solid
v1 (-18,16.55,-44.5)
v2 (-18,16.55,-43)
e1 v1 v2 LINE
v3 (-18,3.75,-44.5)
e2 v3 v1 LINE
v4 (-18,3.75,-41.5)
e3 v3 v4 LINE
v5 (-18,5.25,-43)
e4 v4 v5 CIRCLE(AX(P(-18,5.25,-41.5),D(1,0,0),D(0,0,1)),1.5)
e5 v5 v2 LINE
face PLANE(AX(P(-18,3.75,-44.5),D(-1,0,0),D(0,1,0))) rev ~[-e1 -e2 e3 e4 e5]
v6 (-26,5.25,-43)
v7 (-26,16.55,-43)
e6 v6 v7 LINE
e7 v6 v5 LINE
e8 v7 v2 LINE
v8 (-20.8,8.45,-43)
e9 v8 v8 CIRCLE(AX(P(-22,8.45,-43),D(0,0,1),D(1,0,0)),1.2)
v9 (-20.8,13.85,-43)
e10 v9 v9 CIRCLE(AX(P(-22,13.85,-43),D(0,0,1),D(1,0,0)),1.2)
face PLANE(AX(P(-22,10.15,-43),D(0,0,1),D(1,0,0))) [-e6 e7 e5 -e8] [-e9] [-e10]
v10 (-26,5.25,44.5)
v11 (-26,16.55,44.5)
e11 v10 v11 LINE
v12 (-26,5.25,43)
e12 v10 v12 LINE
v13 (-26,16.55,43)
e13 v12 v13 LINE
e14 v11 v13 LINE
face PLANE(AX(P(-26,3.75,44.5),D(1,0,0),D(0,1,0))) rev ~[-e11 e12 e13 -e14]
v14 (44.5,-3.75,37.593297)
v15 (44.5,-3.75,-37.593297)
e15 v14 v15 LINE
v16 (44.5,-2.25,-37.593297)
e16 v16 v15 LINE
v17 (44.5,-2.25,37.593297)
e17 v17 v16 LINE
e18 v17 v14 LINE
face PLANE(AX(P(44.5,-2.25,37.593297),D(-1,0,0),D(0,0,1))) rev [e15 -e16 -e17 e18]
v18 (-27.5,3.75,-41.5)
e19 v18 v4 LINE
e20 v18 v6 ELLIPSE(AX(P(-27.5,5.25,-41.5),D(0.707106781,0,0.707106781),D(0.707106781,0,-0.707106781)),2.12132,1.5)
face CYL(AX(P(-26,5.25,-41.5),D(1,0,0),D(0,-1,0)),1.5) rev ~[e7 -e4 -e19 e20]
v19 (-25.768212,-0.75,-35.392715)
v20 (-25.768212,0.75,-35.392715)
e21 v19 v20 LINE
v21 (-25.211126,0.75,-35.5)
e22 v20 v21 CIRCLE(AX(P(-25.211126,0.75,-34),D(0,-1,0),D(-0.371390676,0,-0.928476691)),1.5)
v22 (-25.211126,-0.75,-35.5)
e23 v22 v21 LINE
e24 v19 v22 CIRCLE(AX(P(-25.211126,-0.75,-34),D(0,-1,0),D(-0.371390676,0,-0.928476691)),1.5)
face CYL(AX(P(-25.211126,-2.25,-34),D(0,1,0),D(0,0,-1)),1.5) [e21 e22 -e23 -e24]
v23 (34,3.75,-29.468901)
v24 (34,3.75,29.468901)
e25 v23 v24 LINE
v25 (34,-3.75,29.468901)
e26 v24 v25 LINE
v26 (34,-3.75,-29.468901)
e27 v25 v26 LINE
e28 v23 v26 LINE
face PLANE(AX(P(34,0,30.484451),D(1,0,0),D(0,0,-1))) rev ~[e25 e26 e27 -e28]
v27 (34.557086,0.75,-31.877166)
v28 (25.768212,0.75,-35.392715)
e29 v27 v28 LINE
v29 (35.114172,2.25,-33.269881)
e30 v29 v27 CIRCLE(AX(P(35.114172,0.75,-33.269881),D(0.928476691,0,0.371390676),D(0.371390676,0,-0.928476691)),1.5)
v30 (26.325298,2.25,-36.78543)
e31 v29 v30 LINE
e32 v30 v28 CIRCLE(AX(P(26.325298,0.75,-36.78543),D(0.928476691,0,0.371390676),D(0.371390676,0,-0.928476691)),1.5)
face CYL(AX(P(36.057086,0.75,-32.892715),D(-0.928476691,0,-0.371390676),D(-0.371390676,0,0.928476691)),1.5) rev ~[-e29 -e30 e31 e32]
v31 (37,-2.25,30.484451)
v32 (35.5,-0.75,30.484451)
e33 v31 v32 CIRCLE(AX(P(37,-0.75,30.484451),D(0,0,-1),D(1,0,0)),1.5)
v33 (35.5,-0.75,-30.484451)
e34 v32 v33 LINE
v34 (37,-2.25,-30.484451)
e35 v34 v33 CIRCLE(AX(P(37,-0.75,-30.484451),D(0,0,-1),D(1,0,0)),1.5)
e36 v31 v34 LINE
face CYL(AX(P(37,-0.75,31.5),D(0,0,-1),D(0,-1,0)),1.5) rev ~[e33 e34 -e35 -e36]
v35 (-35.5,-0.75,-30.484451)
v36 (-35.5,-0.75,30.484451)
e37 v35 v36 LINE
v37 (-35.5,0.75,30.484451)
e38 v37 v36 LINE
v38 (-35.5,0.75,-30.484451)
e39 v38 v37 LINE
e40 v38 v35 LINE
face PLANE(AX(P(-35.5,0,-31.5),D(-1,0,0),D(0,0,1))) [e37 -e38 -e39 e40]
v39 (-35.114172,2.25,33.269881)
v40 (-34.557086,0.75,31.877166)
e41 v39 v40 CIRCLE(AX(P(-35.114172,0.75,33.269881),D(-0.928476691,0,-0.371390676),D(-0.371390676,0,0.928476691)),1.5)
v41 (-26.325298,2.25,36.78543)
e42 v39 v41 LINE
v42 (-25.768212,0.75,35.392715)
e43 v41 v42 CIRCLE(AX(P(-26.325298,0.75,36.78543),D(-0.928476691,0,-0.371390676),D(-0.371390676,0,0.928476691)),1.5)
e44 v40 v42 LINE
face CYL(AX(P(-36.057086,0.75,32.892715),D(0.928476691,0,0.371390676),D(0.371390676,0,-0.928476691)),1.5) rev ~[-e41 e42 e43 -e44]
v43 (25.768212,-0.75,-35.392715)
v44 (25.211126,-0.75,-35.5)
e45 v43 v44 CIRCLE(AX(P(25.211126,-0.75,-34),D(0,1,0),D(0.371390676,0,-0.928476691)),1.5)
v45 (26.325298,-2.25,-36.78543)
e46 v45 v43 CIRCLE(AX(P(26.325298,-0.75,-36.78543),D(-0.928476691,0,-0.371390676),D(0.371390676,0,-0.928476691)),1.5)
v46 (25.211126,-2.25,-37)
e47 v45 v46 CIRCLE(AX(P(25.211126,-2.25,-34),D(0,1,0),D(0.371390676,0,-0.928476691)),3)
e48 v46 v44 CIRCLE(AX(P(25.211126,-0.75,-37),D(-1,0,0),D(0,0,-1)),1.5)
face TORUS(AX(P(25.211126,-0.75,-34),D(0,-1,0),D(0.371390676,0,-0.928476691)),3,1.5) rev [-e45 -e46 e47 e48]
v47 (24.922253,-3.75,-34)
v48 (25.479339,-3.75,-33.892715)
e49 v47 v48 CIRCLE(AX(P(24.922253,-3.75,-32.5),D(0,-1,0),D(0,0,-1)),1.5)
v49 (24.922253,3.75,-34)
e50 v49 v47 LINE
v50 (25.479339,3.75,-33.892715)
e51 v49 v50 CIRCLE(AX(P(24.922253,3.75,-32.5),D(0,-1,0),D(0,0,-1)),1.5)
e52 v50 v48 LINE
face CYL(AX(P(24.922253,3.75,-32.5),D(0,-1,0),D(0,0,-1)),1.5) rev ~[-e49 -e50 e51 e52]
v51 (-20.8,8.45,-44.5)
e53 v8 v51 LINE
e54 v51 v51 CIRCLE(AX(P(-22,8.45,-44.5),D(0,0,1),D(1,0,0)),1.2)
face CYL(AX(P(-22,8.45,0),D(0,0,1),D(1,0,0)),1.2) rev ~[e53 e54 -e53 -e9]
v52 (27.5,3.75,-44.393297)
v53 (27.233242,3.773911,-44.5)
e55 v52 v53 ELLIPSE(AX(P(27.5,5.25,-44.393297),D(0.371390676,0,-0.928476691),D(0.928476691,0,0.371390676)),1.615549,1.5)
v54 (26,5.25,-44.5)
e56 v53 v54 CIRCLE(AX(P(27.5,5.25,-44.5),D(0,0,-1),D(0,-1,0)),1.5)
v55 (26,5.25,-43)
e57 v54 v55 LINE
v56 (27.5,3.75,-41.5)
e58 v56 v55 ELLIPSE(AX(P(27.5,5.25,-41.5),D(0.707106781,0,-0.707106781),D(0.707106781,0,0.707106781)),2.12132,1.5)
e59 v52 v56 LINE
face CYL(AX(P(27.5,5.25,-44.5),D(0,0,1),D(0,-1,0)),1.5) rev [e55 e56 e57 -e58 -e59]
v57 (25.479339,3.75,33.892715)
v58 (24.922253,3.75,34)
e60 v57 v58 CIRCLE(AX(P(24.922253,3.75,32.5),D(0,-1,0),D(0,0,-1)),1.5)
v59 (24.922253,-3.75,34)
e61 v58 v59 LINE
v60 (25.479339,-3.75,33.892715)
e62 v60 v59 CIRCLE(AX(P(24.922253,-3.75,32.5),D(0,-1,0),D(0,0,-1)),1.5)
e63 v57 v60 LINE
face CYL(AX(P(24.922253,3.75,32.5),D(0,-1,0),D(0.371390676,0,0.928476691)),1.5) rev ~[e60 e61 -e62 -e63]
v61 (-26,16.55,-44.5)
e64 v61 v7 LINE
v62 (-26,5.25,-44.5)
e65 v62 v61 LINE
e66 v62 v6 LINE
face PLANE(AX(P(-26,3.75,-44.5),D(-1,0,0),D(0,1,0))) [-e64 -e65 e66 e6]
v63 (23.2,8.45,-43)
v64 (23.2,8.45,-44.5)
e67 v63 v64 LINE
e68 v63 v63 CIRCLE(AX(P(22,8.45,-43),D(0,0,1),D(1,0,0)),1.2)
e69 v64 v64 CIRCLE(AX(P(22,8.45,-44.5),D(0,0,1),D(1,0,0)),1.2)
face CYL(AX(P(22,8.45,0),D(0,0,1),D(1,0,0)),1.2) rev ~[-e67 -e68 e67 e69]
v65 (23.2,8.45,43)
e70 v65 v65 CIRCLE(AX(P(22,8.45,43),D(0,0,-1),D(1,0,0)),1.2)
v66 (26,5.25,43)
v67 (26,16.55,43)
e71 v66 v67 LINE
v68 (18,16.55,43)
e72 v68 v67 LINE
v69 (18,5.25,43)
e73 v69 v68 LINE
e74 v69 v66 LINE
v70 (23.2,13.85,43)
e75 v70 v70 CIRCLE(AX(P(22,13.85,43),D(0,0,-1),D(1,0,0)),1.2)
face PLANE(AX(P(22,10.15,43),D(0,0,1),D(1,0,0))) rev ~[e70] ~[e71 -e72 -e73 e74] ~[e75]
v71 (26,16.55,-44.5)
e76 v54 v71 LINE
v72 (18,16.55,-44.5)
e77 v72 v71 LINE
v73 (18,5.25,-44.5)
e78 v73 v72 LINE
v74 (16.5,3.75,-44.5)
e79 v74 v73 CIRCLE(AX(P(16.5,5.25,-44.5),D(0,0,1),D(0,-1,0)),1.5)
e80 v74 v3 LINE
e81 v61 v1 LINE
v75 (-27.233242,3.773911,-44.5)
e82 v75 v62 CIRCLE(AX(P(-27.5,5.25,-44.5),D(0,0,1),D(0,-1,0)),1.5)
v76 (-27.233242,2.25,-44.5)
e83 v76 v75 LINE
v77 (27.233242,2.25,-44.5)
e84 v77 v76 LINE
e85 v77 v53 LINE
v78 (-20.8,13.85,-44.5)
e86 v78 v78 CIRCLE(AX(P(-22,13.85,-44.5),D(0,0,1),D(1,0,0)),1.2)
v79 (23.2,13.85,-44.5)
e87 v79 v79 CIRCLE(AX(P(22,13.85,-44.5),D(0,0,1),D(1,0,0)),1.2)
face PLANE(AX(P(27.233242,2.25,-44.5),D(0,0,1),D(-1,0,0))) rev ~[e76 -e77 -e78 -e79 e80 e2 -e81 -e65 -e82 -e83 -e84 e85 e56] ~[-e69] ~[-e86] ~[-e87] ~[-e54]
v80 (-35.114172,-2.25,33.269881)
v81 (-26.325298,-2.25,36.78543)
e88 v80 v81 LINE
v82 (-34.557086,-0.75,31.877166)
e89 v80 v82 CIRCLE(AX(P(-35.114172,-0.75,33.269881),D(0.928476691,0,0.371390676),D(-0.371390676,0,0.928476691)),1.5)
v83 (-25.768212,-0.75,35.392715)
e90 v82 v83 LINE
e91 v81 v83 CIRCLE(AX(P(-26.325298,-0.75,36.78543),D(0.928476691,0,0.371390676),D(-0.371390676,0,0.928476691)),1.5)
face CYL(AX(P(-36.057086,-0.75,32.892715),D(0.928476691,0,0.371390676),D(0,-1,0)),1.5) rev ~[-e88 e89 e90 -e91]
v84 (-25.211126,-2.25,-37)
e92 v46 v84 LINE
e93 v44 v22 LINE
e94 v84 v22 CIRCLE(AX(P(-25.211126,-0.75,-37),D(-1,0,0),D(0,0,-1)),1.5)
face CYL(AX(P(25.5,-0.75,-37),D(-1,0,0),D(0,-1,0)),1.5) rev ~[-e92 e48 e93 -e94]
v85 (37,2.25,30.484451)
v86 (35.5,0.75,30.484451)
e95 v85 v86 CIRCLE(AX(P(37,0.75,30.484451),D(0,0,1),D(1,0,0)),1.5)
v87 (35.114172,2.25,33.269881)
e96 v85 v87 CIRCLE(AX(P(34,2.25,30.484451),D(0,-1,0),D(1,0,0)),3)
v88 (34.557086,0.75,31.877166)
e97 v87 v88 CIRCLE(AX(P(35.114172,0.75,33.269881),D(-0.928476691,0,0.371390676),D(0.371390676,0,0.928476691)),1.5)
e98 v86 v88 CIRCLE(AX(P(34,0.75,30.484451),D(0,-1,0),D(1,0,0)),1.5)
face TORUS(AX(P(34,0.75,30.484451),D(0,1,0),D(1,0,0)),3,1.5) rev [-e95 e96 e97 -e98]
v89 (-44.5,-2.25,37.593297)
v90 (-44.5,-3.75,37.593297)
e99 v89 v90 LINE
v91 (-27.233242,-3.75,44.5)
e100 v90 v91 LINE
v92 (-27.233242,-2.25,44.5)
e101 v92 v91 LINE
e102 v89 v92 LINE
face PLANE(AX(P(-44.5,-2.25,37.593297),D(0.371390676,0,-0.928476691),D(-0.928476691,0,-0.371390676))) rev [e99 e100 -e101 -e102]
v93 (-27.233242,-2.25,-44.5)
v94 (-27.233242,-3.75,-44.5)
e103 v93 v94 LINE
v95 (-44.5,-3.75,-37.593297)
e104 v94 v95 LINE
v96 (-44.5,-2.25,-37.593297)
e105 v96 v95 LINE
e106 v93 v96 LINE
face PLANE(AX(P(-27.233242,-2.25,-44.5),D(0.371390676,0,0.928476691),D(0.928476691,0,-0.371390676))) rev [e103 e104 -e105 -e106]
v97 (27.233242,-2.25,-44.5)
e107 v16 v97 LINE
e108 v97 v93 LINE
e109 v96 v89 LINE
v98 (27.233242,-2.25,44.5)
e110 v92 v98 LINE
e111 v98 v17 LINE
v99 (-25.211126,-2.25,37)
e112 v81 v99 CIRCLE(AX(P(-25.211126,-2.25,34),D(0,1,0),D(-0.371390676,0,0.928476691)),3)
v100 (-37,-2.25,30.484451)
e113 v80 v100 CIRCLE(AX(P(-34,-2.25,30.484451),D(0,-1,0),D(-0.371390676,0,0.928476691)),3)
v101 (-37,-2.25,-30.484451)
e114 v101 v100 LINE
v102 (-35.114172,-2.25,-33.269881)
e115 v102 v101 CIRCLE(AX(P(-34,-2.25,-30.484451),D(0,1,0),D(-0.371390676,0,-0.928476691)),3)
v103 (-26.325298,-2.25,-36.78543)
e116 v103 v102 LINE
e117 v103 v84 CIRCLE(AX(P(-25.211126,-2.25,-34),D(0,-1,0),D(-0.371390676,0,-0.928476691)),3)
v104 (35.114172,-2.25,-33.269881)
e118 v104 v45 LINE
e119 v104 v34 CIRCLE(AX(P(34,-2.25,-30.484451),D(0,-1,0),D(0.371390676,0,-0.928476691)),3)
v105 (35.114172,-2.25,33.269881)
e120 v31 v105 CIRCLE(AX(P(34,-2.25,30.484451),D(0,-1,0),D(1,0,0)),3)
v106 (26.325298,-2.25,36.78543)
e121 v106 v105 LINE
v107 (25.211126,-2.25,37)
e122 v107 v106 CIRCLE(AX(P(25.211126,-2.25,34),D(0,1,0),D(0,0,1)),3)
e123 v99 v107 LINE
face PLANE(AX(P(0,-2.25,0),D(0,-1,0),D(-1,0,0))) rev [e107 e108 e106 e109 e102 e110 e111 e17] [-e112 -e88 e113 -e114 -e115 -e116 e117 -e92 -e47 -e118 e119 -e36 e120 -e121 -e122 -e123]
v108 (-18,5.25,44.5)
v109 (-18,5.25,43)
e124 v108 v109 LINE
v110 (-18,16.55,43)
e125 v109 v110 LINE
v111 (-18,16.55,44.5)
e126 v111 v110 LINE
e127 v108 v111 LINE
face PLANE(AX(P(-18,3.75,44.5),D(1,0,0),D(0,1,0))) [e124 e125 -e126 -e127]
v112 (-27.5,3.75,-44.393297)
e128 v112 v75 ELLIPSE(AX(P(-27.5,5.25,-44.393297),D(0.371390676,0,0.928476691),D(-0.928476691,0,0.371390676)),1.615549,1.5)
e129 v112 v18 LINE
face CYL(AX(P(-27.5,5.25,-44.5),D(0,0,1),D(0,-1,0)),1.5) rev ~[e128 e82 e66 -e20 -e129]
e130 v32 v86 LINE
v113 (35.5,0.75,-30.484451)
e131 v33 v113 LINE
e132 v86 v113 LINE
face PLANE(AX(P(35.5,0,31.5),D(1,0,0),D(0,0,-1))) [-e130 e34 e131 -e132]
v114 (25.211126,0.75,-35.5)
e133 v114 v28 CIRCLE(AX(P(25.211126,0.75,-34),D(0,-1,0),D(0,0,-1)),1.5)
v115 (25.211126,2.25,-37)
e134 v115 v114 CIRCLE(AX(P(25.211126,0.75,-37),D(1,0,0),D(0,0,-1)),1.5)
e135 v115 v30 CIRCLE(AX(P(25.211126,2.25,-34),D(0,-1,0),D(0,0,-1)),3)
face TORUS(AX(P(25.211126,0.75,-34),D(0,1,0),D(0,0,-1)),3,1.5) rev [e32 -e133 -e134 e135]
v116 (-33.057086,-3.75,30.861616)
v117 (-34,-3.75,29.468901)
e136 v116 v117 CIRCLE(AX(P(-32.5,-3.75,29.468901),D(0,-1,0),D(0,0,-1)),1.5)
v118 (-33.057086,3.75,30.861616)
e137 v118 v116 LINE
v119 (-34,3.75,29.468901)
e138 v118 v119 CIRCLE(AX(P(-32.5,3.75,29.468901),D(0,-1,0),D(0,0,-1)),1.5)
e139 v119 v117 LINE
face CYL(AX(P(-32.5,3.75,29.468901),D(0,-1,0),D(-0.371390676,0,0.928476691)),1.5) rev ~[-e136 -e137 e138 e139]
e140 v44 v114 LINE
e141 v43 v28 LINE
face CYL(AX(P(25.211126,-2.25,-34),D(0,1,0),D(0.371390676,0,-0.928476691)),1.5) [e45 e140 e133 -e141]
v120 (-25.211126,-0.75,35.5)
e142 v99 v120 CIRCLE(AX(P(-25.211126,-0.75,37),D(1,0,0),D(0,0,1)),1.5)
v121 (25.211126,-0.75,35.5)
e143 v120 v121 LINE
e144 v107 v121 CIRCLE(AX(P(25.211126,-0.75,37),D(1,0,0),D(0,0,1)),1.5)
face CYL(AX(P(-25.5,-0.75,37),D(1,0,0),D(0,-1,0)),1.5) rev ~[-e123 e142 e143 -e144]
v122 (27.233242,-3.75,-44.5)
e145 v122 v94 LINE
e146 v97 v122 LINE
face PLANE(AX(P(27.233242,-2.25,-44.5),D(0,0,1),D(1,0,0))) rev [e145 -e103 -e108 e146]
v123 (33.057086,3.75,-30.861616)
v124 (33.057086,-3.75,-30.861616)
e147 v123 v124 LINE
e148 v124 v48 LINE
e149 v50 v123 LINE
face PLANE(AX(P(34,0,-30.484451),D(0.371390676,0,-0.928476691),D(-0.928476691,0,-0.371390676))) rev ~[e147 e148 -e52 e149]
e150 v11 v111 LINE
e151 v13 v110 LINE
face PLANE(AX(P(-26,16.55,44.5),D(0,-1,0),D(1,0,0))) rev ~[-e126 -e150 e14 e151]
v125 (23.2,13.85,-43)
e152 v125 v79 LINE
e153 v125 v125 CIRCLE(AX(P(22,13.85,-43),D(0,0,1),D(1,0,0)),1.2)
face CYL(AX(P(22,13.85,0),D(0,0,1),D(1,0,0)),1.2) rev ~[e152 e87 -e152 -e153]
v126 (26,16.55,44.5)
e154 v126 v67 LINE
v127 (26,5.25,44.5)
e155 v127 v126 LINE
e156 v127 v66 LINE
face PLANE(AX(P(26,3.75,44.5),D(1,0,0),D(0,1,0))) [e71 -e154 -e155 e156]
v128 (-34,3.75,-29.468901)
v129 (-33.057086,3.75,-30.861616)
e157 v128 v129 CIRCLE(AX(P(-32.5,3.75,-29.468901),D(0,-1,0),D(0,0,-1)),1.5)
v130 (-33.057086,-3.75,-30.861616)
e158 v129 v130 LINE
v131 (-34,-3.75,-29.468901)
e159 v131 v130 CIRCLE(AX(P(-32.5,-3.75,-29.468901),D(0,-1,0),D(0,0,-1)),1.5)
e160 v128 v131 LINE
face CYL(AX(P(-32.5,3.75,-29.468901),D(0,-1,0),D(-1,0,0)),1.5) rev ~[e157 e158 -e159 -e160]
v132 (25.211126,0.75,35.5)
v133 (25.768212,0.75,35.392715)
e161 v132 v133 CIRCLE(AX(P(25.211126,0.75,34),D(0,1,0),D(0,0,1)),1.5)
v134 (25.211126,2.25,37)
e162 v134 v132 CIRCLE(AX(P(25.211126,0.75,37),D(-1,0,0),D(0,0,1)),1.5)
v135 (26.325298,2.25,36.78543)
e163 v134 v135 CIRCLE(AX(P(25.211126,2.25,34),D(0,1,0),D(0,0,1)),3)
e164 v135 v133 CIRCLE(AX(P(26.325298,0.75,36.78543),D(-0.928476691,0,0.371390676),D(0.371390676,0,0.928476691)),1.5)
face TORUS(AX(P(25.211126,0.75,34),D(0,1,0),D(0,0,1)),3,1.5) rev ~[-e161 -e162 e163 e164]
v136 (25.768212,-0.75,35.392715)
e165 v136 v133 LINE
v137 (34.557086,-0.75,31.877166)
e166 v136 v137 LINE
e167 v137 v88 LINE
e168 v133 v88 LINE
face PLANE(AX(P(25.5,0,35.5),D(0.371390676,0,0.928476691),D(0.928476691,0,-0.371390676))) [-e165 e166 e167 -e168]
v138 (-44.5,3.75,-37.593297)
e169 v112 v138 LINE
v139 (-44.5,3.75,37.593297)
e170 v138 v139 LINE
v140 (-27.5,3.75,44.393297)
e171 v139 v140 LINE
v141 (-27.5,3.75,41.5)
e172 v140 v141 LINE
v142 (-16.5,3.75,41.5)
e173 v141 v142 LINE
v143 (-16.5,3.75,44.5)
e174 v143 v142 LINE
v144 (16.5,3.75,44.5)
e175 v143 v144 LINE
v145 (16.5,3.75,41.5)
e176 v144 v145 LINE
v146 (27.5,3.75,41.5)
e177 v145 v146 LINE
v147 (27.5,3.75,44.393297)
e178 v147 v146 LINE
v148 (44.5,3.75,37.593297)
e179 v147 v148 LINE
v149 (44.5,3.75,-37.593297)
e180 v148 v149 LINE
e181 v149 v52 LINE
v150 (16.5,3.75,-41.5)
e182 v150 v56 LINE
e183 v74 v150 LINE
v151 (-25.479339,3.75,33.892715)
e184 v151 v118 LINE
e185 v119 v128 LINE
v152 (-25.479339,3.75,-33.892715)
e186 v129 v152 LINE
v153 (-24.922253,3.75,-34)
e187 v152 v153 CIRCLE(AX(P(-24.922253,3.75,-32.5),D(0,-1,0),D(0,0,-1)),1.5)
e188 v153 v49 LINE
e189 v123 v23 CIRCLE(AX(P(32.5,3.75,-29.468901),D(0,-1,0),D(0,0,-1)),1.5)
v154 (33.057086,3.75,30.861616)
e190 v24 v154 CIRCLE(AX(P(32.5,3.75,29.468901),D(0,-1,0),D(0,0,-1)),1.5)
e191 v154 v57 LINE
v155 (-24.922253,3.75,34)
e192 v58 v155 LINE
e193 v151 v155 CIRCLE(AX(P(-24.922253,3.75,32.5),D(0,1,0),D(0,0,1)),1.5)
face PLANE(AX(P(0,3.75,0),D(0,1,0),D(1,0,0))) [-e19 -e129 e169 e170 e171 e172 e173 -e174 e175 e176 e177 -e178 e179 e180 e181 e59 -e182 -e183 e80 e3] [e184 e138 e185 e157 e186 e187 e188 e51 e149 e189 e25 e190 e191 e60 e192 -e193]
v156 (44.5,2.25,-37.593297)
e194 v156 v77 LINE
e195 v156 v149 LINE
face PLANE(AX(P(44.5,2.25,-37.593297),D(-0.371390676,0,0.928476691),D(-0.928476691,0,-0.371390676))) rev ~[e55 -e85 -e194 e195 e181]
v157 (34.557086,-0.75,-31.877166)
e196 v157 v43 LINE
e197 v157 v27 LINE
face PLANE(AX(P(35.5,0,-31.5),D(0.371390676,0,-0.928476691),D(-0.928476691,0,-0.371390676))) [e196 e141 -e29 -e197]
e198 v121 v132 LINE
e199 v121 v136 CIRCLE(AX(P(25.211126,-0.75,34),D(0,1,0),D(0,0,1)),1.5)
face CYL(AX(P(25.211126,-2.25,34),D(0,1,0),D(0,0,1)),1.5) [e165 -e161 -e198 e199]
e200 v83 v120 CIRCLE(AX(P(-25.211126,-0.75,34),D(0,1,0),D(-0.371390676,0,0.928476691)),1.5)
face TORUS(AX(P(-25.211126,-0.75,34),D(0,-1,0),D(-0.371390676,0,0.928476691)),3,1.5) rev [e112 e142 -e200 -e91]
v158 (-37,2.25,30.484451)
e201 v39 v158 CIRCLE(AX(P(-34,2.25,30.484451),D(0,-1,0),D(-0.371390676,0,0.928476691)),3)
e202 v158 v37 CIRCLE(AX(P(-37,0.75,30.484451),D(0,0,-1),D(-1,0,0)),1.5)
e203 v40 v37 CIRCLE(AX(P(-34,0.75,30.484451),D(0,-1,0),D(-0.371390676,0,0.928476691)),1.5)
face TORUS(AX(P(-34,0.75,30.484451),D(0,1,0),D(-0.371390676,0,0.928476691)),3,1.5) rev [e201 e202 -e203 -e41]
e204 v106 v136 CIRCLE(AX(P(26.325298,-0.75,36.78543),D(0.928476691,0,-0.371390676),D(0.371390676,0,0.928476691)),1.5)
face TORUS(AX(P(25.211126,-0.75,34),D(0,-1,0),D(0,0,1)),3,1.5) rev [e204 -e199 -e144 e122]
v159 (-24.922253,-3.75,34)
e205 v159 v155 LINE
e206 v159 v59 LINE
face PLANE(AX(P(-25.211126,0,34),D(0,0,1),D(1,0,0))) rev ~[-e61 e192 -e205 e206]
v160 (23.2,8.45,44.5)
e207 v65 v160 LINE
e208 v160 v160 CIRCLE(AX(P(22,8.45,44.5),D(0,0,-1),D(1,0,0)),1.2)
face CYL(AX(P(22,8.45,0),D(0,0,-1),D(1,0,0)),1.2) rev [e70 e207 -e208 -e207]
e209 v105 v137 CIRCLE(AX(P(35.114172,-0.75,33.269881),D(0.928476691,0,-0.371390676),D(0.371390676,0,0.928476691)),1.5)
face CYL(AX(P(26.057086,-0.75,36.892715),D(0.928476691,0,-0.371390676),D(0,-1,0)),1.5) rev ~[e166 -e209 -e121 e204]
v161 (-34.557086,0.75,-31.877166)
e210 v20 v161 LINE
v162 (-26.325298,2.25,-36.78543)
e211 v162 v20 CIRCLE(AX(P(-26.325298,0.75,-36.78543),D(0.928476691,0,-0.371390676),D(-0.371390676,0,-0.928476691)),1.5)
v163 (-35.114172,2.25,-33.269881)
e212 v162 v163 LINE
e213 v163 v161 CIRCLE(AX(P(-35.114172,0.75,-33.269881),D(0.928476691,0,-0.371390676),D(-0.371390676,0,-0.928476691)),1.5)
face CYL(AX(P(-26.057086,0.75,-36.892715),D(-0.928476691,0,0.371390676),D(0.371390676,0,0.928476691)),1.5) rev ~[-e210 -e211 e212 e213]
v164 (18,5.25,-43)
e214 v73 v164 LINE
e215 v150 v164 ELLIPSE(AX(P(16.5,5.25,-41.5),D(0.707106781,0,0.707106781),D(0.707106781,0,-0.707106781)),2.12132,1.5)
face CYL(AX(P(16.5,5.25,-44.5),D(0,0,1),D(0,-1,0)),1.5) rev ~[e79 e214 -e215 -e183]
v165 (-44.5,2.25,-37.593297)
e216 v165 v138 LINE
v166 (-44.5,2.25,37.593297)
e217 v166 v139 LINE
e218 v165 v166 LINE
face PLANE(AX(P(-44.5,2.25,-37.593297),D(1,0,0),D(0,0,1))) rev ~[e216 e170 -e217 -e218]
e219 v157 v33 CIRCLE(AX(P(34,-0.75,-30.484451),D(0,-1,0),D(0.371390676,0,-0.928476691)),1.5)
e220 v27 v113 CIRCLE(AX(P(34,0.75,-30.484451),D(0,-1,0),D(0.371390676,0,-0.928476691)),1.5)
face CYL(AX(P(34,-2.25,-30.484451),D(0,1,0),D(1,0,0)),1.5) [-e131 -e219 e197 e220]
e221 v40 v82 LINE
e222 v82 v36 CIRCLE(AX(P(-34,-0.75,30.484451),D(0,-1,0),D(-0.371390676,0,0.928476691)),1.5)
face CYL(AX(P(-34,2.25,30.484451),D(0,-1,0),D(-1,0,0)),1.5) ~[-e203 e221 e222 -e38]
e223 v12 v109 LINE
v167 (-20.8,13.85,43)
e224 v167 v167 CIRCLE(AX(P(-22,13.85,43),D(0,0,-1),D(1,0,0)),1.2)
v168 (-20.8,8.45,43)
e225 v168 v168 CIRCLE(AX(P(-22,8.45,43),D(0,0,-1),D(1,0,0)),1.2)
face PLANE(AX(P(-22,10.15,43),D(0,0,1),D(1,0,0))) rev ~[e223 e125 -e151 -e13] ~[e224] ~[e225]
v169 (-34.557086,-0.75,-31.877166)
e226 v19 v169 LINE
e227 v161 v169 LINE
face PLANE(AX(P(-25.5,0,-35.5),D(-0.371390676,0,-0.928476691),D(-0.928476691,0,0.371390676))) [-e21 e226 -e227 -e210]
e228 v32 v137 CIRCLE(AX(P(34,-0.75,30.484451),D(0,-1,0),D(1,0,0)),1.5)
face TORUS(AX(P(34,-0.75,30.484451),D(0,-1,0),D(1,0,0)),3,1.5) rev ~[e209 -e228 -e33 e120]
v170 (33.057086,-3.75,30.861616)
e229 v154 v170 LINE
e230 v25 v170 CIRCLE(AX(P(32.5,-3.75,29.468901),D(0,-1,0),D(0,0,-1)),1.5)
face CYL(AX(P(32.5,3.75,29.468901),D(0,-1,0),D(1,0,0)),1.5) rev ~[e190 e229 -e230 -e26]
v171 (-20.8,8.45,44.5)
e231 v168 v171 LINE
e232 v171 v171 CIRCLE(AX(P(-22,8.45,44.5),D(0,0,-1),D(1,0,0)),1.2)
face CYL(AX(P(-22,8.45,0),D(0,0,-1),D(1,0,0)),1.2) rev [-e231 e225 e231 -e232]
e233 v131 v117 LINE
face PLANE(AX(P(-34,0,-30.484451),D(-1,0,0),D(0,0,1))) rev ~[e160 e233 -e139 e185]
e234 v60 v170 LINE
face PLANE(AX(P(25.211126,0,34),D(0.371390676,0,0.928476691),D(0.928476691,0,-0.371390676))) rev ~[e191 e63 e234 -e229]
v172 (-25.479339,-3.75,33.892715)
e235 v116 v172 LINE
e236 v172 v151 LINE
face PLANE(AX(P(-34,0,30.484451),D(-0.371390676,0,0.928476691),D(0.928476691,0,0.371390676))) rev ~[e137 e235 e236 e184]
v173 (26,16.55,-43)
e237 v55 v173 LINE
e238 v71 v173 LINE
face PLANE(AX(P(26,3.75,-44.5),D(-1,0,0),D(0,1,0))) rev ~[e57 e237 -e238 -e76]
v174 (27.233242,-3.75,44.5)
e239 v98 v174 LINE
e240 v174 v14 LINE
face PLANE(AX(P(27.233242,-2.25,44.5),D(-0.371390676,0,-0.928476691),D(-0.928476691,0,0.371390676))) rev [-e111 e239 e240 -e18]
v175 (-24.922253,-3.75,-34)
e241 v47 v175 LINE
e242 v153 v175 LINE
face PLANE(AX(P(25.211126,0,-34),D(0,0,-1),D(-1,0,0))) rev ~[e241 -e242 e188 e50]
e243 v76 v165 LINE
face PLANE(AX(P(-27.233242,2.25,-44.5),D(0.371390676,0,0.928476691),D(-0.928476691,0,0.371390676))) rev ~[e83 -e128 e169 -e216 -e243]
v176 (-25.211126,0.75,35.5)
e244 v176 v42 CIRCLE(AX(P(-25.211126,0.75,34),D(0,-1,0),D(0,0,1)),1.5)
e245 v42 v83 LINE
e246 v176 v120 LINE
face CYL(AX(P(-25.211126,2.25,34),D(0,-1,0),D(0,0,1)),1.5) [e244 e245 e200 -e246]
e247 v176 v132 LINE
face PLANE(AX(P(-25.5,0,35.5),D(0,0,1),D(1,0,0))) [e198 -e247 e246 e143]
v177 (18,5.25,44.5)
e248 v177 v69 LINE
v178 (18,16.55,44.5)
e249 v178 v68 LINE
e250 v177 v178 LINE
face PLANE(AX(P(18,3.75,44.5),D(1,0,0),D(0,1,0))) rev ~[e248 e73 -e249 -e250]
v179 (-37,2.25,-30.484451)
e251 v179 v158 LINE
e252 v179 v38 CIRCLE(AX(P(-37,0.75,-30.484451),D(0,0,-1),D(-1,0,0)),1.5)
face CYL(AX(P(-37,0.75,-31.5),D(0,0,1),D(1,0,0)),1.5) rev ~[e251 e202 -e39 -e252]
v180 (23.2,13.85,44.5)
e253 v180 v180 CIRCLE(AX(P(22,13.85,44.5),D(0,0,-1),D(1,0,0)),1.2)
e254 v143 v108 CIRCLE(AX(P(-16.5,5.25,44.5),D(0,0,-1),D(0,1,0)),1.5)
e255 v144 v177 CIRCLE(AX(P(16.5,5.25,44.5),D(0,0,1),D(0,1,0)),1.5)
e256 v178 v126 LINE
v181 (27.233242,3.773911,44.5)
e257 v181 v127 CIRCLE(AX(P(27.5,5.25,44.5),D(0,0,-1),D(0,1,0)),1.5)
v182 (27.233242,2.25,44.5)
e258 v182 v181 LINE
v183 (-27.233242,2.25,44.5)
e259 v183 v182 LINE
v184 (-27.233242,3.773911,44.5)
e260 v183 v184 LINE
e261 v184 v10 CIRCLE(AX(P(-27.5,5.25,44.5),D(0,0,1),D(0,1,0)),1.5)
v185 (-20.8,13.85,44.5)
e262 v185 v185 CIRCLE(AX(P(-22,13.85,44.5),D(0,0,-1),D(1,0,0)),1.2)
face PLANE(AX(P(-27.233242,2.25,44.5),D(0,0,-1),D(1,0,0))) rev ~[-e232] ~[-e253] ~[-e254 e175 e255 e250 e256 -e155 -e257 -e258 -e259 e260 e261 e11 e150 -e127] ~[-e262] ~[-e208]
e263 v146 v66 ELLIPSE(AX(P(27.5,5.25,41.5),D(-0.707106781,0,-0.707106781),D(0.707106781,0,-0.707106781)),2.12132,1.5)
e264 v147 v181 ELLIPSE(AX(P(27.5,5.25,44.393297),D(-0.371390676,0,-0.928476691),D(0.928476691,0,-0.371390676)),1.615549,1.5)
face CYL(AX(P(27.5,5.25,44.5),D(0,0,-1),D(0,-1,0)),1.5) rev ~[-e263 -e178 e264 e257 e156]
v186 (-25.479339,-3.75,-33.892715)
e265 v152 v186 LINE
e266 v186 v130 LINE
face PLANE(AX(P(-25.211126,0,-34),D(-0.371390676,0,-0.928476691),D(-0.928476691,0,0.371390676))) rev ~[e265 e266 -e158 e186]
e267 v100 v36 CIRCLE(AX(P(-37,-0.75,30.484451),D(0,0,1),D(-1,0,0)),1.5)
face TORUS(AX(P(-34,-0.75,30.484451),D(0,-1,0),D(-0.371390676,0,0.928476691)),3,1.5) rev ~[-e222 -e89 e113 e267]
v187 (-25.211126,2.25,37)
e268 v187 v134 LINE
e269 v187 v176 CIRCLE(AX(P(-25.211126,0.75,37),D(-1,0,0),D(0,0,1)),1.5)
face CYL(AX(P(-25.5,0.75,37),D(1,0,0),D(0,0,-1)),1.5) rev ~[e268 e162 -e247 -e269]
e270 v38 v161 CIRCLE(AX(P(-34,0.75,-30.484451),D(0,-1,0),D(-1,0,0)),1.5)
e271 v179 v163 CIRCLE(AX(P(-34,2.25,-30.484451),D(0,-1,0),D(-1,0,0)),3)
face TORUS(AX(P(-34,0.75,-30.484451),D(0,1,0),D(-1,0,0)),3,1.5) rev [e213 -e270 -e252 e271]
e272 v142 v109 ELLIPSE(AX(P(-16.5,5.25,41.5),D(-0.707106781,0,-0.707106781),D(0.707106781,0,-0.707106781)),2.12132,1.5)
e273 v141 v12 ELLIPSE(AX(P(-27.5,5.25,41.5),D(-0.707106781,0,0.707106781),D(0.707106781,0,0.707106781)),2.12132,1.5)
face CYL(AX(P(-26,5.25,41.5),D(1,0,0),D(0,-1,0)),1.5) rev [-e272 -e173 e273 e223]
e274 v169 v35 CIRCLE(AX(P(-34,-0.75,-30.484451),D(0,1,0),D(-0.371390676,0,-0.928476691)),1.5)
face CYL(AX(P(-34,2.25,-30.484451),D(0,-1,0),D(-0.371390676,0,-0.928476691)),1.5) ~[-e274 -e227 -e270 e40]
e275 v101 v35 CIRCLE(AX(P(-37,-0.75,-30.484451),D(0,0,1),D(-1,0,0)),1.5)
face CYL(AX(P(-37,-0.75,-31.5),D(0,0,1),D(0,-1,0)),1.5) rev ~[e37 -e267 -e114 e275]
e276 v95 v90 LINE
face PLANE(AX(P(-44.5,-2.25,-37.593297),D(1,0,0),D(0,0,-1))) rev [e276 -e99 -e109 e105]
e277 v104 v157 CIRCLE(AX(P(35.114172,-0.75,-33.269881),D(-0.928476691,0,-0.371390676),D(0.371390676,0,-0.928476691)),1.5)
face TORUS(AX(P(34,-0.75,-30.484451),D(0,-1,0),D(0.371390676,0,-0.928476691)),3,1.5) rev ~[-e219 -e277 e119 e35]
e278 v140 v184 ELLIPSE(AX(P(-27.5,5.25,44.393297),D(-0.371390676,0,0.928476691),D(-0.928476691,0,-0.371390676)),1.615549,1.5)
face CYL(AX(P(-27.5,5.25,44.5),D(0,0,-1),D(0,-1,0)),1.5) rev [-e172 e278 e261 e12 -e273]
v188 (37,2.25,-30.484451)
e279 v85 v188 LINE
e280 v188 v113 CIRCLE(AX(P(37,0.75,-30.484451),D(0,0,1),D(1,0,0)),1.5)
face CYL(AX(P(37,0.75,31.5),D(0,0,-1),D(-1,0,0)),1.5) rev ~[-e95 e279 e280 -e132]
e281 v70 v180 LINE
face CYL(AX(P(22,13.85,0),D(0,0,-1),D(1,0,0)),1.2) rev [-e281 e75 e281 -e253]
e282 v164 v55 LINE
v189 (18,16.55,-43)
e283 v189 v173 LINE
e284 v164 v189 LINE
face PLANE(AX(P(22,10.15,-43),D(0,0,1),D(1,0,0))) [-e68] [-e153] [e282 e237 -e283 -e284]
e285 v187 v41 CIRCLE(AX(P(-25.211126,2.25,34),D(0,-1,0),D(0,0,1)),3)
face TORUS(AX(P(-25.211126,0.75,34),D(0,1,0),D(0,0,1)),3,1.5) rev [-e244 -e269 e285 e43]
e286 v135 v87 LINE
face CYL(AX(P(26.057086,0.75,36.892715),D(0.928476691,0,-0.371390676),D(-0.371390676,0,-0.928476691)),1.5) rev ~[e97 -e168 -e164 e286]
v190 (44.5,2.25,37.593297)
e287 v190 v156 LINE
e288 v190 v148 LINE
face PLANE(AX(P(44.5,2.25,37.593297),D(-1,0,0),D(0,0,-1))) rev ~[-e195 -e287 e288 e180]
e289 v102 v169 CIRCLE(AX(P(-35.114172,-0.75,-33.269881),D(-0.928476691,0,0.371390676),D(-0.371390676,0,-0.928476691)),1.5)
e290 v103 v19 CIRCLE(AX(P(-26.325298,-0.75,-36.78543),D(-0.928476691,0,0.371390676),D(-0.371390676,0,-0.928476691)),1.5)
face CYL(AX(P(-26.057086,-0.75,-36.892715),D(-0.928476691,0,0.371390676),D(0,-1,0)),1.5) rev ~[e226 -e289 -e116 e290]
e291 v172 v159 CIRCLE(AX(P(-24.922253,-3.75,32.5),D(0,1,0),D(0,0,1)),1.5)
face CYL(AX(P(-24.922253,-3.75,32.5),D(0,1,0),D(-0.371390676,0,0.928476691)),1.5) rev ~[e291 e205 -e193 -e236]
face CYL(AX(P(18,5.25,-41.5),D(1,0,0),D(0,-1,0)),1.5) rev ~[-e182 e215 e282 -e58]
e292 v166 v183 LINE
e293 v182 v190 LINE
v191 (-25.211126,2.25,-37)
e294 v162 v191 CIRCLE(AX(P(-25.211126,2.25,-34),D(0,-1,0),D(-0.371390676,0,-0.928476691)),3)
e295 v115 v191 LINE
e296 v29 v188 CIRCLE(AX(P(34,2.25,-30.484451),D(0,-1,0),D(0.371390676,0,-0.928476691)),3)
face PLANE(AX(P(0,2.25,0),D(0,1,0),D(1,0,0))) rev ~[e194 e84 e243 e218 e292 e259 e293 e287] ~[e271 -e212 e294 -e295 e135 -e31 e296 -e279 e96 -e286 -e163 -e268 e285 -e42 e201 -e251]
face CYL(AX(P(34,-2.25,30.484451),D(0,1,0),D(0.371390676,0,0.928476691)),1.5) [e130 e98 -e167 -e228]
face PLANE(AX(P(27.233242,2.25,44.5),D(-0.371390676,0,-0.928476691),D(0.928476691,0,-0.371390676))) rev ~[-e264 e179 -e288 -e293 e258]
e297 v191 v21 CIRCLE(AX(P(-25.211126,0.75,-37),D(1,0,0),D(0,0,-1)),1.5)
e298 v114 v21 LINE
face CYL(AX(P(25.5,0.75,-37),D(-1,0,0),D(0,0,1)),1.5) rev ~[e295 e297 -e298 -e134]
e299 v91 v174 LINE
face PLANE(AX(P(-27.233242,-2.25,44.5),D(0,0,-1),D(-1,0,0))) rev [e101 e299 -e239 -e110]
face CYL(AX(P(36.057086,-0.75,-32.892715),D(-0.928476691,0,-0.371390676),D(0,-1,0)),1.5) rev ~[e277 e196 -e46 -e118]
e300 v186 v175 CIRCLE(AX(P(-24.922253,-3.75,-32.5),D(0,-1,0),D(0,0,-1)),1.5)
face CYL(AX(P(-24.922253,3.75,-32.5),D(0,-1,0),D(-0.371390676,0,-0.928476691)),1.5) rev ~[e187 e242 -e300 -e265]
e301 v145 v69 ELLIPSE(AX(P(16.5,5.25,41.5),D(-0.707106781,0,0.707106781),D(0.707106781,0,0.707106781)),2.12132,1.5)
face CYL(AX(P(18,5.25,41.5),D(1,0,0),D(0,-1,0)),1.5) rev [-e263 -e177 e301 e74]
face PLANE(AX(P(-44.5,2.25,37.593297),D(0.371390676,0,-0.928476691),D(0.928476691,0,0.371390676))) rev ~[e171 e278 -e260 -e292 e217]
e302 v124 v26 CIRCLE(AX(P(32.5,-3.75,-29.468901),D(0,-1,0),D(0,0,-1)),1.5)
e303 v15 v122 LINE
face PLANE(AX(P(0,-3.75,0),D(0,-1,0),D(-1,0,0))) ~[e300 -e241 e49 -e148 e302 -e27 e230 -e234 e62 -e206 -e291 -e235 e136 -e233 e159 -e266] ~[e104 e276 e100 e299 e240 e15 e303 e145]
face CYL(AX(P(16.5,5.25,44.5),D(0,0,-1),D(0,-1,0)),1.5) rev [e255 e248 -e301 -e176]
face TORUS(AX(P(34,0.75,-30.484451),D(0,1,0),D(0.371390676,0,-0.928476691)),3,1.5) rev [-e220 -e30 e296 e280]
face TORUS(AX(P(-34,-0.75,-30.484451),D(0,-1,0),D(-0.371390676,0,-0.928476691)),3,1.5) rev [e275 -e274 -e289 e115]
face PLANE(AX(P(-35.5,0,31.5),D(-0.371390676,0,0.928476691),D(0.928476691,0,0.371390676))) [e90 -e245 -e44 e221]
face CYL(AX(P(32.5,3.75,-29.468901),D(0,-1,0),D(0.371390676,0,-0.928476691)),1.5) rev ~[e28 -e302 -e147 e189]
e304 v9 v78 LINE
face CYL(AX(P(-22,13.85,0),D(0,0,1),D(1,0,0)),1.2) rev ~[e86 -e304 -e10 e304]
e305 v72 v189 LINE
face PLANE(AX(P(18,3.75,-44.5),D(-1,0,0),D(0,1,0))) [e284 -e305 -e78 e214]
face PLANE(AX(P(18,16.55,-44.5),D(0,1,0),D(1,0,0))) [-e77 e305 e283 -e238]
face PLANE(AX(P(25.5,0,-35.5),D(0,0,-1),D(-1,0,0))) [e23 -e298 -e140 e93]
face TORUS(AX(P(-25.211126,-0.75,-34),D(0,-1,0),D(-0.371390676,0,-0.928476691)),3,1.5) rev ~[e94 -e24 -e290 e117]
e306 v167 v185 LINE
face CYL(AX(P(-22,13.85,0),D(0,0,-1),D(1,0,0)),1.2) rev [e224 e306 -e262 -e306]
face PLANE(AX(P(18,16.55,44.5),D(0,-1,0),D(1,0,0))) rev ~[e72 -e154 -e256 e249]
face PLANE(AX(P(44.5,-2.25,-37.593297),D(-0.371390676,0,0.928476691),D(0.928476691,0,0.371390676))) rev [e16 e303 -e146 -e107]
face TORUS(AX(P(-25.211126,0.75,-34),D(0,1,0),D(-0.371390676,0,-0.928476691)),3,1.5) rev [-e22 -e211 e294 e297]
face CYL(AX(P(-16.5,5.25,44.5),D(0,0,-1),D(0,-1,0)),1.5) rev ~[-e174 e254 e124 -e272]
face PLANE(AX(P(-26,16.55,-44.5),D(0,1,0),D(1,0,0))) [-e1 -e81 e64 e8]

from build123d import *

# Parameters (mm, degrees)
BOSS_EXTRUDE1_DEPTH     = 2.25
BOSS_EXTRUDE2_DEPTH     = 1.5
CUT_EXTRUDE1_DEPTH      = 4.75
CUT_EXTRUDE1_DEPTH_BACK = 4.75
BOSS_EXTRUDE3_START     = 44.5
SKETCH5_W               = 8
SKETCH5_H               = 12.8
BOSS_EXTRUDE3_DEPTH     = 1.5
BOSS_EXTRUDE4_START     = -44.5
SKETCH5_2_W             = 8
SKETCH5_2_H             = 12.8
BOSS_EXTRUDE4_DEPTH     = 1.5
SKETCH6_R               = 1.2
CUT_EXTRUDE3_DEPTH      = 45.5
CUT_EXTRUDE3_DEPTH_BACK = 45.5
FILLET1_R               = 1.5
FILLET2_R               = 1.5


with BuildPart() as part:
    # Sketch1 → Boss-Extrude1 (new body, symmetric)
    with BuildSketch(Plane(origin=(0, 0, 0), x_dir=(1, 0, 0), z_dir=(0, 1, 0))):
        Polygon((-25.5, -35.5), (25.5, -35.5), (35.5, -31.5), (35.5, 31.5), (25.5, 35.5), (-25.5, 35.5), (-35.5, 31.5), (-35.5, -31.5), align=None)
    extrude(amount=BOSS_EXTRUDE1_DEPTH, both=True)

    # Sketch2 → Boss-Extrude2 (add)
    with BuildSketch(Plane(origin=(0, 2.25, 0), x_dir=(1, 0, 0), z_dir=(0, 1, 0))):
        Polygon((27.233241632, -44.5), (44.5, -37.593296653), (44.5, 37.593296653), (27.233241632, 44.5), (-27.233241632, 44.5), (-44.5, 37.593296653), (-44.5, -37.593296653), (-27.233241632, -44.5), align=None)
    boss_extrude2 = extrude(amount=BOSS_EXTRUDE2_DEPTH)

    # Mirror1: Boss-Extrude2 across plane
    add(boss_extrude2.mirror(Plane.ZX))

    # Sketch3 → Cut-Extrude1 (cut, two sides)
    with BuildSketch(Plane(origin=(0, 0, 0), x_dir=(1, 0, 0), z_dir=(0, 1, 0))) as cut_extrude1_sk:
        Polygon((-25.211126395, -34), (25.211126395, -34), (34, -30.484450558), (34, 30.484450558), (25.211126395, 34), (-25.211126395, 34), (-34, 30.484450558), (-34, -30.484450558), align=None)
    extrude(amount=CUT_EXTRUDE1_DEPTH, mode=Mode.SUBTRACT)
    extrude(cut_extrude1_sk.sketch, amount=-CUT_EXTRUDE1_DEPTH_BACK, mode=Mode.SUBTRACT)

    # Sketch5 → Boss-Extrude3 (add)
    with BuildSketch(Plane.XY.offset(BOSS_EXTRUDE3_START)):
        with Locations((-22, 10.15)):
            Rectangle(SKETCH5_W, SKETCH5_H)
        with Locations((22, 10.15)):
            Rectangle(SKETCH5_W, SKETCH5_H)
    extrude(amount=-BOSS_EXTRUDE3_DEPTH)

    # Sketch5<2> → Boss-Extrude4 (add)
    with BuildSketch(Plane.XY.offset(BOSS_EXTRUDE4_START)):
        with Locations((-22, 10.15)):
            Rectangle(SKETCH5_2_W, SKETCH5_2_H)
        with Locations((22, 10.15)):
            Rectangle(SKETCH5_2_W, SKETCH5_2_H)
    extrude(amount=BOSS_EXTRUDE4_DEPTH)

    # Sketch6 → Cut-Extrude3 (cut, two sides)
    with BuildSketch(Plane.XY) as cut_extrude3_sk:
        with Locations((-22, 13.85)):
            Circle(SKETCH6_R)
        with Locations((22, 13.85)):
            Circle(SKETCH6_R)
        with Locations((-22, 8.45)):
            Circle(SKETCH6_R)
        with Locations((22, 8.45)):
            Circle(SKETCH6_R)
    extrude(amount=CUT_EXTRUDE3_DEPTH, mode=Mode.SUBTRACT)
    extrude(cut_extrude3_sk.sketch, amount=-CUT_EXTRUDE3_DEPTH_BACK, mode=Mode.SUBTRACT)

    # Fillet1
    fillet1_edges = [part.edges().sort_by_distance(p)[0] for p in [
        (35.5, 0, 31.5),
        (25.5, 0, 35.5),
        (0, 2.25, -35.5),
        (0, -2.25, -35.5),
        (35.5, 2.25, 0),
        (35.5, -2.25, 0),
        (-35.5, 2.25, 0),
        (-35.5, -2.25, 0),
        (0, 2.25, 35.5),
        (0, -2.25, 35.5),
        (-25.5, 0, -35.5),
        (-30.5, 2.25, -33.5),
        (-35.5, 0, -31.5),
        (-30.5, -2.25, -33.5),
        (35.5, 0, -31.5),
        (30.5, 2.25, -33.5),
        (25.5, 0, -35.5),
        (30.5, -2.25, -33.5),
        (30.5, 2.25, 33.5),
        (30.5, -2.25, 33.5),
        (-35.5, 0, 31.5),
        (-30.5, 2.25, 33.5),
        (-25.5, 0, 35.5),
        (-30.5, -2.25, 33.5),
        (-22, 3.75, -43),
        (22, 3.75, -43),
        (-22, 3.75, 43),
        (22, 3.75, 43),
        (26, 3.75, 43.75),
        (-18, 3.75, 43.75),
        (18, 3.75, 43.75),
        (-26, 3.75, 43.75),
        (18, 3.75, -43.75),
        (26, 3.75, -43.75),
        (-26, 3.75, -43.75),
    ]]
    fillet(fillet1_edges, radius=FILLET1_R)

    # Fillet2
    fillet2_edges = [part.edges().sort_by_distance(p)[0] for p in [
        (-25.211126395, 0, 34),
        (-34, 0, 30.484450558),
        (-34, 0, -30.484450558),
        (-25.211126395, 0, -34),
        (25.211126395, 0, -34),
        (34, 0, -30.484450558),
        (34, 0, 30.484450558),
        (25.211126395, 0, 34),
    ]]
    fillet(fillet2_edges, radius=FILLET2_R)


solid = part.part
